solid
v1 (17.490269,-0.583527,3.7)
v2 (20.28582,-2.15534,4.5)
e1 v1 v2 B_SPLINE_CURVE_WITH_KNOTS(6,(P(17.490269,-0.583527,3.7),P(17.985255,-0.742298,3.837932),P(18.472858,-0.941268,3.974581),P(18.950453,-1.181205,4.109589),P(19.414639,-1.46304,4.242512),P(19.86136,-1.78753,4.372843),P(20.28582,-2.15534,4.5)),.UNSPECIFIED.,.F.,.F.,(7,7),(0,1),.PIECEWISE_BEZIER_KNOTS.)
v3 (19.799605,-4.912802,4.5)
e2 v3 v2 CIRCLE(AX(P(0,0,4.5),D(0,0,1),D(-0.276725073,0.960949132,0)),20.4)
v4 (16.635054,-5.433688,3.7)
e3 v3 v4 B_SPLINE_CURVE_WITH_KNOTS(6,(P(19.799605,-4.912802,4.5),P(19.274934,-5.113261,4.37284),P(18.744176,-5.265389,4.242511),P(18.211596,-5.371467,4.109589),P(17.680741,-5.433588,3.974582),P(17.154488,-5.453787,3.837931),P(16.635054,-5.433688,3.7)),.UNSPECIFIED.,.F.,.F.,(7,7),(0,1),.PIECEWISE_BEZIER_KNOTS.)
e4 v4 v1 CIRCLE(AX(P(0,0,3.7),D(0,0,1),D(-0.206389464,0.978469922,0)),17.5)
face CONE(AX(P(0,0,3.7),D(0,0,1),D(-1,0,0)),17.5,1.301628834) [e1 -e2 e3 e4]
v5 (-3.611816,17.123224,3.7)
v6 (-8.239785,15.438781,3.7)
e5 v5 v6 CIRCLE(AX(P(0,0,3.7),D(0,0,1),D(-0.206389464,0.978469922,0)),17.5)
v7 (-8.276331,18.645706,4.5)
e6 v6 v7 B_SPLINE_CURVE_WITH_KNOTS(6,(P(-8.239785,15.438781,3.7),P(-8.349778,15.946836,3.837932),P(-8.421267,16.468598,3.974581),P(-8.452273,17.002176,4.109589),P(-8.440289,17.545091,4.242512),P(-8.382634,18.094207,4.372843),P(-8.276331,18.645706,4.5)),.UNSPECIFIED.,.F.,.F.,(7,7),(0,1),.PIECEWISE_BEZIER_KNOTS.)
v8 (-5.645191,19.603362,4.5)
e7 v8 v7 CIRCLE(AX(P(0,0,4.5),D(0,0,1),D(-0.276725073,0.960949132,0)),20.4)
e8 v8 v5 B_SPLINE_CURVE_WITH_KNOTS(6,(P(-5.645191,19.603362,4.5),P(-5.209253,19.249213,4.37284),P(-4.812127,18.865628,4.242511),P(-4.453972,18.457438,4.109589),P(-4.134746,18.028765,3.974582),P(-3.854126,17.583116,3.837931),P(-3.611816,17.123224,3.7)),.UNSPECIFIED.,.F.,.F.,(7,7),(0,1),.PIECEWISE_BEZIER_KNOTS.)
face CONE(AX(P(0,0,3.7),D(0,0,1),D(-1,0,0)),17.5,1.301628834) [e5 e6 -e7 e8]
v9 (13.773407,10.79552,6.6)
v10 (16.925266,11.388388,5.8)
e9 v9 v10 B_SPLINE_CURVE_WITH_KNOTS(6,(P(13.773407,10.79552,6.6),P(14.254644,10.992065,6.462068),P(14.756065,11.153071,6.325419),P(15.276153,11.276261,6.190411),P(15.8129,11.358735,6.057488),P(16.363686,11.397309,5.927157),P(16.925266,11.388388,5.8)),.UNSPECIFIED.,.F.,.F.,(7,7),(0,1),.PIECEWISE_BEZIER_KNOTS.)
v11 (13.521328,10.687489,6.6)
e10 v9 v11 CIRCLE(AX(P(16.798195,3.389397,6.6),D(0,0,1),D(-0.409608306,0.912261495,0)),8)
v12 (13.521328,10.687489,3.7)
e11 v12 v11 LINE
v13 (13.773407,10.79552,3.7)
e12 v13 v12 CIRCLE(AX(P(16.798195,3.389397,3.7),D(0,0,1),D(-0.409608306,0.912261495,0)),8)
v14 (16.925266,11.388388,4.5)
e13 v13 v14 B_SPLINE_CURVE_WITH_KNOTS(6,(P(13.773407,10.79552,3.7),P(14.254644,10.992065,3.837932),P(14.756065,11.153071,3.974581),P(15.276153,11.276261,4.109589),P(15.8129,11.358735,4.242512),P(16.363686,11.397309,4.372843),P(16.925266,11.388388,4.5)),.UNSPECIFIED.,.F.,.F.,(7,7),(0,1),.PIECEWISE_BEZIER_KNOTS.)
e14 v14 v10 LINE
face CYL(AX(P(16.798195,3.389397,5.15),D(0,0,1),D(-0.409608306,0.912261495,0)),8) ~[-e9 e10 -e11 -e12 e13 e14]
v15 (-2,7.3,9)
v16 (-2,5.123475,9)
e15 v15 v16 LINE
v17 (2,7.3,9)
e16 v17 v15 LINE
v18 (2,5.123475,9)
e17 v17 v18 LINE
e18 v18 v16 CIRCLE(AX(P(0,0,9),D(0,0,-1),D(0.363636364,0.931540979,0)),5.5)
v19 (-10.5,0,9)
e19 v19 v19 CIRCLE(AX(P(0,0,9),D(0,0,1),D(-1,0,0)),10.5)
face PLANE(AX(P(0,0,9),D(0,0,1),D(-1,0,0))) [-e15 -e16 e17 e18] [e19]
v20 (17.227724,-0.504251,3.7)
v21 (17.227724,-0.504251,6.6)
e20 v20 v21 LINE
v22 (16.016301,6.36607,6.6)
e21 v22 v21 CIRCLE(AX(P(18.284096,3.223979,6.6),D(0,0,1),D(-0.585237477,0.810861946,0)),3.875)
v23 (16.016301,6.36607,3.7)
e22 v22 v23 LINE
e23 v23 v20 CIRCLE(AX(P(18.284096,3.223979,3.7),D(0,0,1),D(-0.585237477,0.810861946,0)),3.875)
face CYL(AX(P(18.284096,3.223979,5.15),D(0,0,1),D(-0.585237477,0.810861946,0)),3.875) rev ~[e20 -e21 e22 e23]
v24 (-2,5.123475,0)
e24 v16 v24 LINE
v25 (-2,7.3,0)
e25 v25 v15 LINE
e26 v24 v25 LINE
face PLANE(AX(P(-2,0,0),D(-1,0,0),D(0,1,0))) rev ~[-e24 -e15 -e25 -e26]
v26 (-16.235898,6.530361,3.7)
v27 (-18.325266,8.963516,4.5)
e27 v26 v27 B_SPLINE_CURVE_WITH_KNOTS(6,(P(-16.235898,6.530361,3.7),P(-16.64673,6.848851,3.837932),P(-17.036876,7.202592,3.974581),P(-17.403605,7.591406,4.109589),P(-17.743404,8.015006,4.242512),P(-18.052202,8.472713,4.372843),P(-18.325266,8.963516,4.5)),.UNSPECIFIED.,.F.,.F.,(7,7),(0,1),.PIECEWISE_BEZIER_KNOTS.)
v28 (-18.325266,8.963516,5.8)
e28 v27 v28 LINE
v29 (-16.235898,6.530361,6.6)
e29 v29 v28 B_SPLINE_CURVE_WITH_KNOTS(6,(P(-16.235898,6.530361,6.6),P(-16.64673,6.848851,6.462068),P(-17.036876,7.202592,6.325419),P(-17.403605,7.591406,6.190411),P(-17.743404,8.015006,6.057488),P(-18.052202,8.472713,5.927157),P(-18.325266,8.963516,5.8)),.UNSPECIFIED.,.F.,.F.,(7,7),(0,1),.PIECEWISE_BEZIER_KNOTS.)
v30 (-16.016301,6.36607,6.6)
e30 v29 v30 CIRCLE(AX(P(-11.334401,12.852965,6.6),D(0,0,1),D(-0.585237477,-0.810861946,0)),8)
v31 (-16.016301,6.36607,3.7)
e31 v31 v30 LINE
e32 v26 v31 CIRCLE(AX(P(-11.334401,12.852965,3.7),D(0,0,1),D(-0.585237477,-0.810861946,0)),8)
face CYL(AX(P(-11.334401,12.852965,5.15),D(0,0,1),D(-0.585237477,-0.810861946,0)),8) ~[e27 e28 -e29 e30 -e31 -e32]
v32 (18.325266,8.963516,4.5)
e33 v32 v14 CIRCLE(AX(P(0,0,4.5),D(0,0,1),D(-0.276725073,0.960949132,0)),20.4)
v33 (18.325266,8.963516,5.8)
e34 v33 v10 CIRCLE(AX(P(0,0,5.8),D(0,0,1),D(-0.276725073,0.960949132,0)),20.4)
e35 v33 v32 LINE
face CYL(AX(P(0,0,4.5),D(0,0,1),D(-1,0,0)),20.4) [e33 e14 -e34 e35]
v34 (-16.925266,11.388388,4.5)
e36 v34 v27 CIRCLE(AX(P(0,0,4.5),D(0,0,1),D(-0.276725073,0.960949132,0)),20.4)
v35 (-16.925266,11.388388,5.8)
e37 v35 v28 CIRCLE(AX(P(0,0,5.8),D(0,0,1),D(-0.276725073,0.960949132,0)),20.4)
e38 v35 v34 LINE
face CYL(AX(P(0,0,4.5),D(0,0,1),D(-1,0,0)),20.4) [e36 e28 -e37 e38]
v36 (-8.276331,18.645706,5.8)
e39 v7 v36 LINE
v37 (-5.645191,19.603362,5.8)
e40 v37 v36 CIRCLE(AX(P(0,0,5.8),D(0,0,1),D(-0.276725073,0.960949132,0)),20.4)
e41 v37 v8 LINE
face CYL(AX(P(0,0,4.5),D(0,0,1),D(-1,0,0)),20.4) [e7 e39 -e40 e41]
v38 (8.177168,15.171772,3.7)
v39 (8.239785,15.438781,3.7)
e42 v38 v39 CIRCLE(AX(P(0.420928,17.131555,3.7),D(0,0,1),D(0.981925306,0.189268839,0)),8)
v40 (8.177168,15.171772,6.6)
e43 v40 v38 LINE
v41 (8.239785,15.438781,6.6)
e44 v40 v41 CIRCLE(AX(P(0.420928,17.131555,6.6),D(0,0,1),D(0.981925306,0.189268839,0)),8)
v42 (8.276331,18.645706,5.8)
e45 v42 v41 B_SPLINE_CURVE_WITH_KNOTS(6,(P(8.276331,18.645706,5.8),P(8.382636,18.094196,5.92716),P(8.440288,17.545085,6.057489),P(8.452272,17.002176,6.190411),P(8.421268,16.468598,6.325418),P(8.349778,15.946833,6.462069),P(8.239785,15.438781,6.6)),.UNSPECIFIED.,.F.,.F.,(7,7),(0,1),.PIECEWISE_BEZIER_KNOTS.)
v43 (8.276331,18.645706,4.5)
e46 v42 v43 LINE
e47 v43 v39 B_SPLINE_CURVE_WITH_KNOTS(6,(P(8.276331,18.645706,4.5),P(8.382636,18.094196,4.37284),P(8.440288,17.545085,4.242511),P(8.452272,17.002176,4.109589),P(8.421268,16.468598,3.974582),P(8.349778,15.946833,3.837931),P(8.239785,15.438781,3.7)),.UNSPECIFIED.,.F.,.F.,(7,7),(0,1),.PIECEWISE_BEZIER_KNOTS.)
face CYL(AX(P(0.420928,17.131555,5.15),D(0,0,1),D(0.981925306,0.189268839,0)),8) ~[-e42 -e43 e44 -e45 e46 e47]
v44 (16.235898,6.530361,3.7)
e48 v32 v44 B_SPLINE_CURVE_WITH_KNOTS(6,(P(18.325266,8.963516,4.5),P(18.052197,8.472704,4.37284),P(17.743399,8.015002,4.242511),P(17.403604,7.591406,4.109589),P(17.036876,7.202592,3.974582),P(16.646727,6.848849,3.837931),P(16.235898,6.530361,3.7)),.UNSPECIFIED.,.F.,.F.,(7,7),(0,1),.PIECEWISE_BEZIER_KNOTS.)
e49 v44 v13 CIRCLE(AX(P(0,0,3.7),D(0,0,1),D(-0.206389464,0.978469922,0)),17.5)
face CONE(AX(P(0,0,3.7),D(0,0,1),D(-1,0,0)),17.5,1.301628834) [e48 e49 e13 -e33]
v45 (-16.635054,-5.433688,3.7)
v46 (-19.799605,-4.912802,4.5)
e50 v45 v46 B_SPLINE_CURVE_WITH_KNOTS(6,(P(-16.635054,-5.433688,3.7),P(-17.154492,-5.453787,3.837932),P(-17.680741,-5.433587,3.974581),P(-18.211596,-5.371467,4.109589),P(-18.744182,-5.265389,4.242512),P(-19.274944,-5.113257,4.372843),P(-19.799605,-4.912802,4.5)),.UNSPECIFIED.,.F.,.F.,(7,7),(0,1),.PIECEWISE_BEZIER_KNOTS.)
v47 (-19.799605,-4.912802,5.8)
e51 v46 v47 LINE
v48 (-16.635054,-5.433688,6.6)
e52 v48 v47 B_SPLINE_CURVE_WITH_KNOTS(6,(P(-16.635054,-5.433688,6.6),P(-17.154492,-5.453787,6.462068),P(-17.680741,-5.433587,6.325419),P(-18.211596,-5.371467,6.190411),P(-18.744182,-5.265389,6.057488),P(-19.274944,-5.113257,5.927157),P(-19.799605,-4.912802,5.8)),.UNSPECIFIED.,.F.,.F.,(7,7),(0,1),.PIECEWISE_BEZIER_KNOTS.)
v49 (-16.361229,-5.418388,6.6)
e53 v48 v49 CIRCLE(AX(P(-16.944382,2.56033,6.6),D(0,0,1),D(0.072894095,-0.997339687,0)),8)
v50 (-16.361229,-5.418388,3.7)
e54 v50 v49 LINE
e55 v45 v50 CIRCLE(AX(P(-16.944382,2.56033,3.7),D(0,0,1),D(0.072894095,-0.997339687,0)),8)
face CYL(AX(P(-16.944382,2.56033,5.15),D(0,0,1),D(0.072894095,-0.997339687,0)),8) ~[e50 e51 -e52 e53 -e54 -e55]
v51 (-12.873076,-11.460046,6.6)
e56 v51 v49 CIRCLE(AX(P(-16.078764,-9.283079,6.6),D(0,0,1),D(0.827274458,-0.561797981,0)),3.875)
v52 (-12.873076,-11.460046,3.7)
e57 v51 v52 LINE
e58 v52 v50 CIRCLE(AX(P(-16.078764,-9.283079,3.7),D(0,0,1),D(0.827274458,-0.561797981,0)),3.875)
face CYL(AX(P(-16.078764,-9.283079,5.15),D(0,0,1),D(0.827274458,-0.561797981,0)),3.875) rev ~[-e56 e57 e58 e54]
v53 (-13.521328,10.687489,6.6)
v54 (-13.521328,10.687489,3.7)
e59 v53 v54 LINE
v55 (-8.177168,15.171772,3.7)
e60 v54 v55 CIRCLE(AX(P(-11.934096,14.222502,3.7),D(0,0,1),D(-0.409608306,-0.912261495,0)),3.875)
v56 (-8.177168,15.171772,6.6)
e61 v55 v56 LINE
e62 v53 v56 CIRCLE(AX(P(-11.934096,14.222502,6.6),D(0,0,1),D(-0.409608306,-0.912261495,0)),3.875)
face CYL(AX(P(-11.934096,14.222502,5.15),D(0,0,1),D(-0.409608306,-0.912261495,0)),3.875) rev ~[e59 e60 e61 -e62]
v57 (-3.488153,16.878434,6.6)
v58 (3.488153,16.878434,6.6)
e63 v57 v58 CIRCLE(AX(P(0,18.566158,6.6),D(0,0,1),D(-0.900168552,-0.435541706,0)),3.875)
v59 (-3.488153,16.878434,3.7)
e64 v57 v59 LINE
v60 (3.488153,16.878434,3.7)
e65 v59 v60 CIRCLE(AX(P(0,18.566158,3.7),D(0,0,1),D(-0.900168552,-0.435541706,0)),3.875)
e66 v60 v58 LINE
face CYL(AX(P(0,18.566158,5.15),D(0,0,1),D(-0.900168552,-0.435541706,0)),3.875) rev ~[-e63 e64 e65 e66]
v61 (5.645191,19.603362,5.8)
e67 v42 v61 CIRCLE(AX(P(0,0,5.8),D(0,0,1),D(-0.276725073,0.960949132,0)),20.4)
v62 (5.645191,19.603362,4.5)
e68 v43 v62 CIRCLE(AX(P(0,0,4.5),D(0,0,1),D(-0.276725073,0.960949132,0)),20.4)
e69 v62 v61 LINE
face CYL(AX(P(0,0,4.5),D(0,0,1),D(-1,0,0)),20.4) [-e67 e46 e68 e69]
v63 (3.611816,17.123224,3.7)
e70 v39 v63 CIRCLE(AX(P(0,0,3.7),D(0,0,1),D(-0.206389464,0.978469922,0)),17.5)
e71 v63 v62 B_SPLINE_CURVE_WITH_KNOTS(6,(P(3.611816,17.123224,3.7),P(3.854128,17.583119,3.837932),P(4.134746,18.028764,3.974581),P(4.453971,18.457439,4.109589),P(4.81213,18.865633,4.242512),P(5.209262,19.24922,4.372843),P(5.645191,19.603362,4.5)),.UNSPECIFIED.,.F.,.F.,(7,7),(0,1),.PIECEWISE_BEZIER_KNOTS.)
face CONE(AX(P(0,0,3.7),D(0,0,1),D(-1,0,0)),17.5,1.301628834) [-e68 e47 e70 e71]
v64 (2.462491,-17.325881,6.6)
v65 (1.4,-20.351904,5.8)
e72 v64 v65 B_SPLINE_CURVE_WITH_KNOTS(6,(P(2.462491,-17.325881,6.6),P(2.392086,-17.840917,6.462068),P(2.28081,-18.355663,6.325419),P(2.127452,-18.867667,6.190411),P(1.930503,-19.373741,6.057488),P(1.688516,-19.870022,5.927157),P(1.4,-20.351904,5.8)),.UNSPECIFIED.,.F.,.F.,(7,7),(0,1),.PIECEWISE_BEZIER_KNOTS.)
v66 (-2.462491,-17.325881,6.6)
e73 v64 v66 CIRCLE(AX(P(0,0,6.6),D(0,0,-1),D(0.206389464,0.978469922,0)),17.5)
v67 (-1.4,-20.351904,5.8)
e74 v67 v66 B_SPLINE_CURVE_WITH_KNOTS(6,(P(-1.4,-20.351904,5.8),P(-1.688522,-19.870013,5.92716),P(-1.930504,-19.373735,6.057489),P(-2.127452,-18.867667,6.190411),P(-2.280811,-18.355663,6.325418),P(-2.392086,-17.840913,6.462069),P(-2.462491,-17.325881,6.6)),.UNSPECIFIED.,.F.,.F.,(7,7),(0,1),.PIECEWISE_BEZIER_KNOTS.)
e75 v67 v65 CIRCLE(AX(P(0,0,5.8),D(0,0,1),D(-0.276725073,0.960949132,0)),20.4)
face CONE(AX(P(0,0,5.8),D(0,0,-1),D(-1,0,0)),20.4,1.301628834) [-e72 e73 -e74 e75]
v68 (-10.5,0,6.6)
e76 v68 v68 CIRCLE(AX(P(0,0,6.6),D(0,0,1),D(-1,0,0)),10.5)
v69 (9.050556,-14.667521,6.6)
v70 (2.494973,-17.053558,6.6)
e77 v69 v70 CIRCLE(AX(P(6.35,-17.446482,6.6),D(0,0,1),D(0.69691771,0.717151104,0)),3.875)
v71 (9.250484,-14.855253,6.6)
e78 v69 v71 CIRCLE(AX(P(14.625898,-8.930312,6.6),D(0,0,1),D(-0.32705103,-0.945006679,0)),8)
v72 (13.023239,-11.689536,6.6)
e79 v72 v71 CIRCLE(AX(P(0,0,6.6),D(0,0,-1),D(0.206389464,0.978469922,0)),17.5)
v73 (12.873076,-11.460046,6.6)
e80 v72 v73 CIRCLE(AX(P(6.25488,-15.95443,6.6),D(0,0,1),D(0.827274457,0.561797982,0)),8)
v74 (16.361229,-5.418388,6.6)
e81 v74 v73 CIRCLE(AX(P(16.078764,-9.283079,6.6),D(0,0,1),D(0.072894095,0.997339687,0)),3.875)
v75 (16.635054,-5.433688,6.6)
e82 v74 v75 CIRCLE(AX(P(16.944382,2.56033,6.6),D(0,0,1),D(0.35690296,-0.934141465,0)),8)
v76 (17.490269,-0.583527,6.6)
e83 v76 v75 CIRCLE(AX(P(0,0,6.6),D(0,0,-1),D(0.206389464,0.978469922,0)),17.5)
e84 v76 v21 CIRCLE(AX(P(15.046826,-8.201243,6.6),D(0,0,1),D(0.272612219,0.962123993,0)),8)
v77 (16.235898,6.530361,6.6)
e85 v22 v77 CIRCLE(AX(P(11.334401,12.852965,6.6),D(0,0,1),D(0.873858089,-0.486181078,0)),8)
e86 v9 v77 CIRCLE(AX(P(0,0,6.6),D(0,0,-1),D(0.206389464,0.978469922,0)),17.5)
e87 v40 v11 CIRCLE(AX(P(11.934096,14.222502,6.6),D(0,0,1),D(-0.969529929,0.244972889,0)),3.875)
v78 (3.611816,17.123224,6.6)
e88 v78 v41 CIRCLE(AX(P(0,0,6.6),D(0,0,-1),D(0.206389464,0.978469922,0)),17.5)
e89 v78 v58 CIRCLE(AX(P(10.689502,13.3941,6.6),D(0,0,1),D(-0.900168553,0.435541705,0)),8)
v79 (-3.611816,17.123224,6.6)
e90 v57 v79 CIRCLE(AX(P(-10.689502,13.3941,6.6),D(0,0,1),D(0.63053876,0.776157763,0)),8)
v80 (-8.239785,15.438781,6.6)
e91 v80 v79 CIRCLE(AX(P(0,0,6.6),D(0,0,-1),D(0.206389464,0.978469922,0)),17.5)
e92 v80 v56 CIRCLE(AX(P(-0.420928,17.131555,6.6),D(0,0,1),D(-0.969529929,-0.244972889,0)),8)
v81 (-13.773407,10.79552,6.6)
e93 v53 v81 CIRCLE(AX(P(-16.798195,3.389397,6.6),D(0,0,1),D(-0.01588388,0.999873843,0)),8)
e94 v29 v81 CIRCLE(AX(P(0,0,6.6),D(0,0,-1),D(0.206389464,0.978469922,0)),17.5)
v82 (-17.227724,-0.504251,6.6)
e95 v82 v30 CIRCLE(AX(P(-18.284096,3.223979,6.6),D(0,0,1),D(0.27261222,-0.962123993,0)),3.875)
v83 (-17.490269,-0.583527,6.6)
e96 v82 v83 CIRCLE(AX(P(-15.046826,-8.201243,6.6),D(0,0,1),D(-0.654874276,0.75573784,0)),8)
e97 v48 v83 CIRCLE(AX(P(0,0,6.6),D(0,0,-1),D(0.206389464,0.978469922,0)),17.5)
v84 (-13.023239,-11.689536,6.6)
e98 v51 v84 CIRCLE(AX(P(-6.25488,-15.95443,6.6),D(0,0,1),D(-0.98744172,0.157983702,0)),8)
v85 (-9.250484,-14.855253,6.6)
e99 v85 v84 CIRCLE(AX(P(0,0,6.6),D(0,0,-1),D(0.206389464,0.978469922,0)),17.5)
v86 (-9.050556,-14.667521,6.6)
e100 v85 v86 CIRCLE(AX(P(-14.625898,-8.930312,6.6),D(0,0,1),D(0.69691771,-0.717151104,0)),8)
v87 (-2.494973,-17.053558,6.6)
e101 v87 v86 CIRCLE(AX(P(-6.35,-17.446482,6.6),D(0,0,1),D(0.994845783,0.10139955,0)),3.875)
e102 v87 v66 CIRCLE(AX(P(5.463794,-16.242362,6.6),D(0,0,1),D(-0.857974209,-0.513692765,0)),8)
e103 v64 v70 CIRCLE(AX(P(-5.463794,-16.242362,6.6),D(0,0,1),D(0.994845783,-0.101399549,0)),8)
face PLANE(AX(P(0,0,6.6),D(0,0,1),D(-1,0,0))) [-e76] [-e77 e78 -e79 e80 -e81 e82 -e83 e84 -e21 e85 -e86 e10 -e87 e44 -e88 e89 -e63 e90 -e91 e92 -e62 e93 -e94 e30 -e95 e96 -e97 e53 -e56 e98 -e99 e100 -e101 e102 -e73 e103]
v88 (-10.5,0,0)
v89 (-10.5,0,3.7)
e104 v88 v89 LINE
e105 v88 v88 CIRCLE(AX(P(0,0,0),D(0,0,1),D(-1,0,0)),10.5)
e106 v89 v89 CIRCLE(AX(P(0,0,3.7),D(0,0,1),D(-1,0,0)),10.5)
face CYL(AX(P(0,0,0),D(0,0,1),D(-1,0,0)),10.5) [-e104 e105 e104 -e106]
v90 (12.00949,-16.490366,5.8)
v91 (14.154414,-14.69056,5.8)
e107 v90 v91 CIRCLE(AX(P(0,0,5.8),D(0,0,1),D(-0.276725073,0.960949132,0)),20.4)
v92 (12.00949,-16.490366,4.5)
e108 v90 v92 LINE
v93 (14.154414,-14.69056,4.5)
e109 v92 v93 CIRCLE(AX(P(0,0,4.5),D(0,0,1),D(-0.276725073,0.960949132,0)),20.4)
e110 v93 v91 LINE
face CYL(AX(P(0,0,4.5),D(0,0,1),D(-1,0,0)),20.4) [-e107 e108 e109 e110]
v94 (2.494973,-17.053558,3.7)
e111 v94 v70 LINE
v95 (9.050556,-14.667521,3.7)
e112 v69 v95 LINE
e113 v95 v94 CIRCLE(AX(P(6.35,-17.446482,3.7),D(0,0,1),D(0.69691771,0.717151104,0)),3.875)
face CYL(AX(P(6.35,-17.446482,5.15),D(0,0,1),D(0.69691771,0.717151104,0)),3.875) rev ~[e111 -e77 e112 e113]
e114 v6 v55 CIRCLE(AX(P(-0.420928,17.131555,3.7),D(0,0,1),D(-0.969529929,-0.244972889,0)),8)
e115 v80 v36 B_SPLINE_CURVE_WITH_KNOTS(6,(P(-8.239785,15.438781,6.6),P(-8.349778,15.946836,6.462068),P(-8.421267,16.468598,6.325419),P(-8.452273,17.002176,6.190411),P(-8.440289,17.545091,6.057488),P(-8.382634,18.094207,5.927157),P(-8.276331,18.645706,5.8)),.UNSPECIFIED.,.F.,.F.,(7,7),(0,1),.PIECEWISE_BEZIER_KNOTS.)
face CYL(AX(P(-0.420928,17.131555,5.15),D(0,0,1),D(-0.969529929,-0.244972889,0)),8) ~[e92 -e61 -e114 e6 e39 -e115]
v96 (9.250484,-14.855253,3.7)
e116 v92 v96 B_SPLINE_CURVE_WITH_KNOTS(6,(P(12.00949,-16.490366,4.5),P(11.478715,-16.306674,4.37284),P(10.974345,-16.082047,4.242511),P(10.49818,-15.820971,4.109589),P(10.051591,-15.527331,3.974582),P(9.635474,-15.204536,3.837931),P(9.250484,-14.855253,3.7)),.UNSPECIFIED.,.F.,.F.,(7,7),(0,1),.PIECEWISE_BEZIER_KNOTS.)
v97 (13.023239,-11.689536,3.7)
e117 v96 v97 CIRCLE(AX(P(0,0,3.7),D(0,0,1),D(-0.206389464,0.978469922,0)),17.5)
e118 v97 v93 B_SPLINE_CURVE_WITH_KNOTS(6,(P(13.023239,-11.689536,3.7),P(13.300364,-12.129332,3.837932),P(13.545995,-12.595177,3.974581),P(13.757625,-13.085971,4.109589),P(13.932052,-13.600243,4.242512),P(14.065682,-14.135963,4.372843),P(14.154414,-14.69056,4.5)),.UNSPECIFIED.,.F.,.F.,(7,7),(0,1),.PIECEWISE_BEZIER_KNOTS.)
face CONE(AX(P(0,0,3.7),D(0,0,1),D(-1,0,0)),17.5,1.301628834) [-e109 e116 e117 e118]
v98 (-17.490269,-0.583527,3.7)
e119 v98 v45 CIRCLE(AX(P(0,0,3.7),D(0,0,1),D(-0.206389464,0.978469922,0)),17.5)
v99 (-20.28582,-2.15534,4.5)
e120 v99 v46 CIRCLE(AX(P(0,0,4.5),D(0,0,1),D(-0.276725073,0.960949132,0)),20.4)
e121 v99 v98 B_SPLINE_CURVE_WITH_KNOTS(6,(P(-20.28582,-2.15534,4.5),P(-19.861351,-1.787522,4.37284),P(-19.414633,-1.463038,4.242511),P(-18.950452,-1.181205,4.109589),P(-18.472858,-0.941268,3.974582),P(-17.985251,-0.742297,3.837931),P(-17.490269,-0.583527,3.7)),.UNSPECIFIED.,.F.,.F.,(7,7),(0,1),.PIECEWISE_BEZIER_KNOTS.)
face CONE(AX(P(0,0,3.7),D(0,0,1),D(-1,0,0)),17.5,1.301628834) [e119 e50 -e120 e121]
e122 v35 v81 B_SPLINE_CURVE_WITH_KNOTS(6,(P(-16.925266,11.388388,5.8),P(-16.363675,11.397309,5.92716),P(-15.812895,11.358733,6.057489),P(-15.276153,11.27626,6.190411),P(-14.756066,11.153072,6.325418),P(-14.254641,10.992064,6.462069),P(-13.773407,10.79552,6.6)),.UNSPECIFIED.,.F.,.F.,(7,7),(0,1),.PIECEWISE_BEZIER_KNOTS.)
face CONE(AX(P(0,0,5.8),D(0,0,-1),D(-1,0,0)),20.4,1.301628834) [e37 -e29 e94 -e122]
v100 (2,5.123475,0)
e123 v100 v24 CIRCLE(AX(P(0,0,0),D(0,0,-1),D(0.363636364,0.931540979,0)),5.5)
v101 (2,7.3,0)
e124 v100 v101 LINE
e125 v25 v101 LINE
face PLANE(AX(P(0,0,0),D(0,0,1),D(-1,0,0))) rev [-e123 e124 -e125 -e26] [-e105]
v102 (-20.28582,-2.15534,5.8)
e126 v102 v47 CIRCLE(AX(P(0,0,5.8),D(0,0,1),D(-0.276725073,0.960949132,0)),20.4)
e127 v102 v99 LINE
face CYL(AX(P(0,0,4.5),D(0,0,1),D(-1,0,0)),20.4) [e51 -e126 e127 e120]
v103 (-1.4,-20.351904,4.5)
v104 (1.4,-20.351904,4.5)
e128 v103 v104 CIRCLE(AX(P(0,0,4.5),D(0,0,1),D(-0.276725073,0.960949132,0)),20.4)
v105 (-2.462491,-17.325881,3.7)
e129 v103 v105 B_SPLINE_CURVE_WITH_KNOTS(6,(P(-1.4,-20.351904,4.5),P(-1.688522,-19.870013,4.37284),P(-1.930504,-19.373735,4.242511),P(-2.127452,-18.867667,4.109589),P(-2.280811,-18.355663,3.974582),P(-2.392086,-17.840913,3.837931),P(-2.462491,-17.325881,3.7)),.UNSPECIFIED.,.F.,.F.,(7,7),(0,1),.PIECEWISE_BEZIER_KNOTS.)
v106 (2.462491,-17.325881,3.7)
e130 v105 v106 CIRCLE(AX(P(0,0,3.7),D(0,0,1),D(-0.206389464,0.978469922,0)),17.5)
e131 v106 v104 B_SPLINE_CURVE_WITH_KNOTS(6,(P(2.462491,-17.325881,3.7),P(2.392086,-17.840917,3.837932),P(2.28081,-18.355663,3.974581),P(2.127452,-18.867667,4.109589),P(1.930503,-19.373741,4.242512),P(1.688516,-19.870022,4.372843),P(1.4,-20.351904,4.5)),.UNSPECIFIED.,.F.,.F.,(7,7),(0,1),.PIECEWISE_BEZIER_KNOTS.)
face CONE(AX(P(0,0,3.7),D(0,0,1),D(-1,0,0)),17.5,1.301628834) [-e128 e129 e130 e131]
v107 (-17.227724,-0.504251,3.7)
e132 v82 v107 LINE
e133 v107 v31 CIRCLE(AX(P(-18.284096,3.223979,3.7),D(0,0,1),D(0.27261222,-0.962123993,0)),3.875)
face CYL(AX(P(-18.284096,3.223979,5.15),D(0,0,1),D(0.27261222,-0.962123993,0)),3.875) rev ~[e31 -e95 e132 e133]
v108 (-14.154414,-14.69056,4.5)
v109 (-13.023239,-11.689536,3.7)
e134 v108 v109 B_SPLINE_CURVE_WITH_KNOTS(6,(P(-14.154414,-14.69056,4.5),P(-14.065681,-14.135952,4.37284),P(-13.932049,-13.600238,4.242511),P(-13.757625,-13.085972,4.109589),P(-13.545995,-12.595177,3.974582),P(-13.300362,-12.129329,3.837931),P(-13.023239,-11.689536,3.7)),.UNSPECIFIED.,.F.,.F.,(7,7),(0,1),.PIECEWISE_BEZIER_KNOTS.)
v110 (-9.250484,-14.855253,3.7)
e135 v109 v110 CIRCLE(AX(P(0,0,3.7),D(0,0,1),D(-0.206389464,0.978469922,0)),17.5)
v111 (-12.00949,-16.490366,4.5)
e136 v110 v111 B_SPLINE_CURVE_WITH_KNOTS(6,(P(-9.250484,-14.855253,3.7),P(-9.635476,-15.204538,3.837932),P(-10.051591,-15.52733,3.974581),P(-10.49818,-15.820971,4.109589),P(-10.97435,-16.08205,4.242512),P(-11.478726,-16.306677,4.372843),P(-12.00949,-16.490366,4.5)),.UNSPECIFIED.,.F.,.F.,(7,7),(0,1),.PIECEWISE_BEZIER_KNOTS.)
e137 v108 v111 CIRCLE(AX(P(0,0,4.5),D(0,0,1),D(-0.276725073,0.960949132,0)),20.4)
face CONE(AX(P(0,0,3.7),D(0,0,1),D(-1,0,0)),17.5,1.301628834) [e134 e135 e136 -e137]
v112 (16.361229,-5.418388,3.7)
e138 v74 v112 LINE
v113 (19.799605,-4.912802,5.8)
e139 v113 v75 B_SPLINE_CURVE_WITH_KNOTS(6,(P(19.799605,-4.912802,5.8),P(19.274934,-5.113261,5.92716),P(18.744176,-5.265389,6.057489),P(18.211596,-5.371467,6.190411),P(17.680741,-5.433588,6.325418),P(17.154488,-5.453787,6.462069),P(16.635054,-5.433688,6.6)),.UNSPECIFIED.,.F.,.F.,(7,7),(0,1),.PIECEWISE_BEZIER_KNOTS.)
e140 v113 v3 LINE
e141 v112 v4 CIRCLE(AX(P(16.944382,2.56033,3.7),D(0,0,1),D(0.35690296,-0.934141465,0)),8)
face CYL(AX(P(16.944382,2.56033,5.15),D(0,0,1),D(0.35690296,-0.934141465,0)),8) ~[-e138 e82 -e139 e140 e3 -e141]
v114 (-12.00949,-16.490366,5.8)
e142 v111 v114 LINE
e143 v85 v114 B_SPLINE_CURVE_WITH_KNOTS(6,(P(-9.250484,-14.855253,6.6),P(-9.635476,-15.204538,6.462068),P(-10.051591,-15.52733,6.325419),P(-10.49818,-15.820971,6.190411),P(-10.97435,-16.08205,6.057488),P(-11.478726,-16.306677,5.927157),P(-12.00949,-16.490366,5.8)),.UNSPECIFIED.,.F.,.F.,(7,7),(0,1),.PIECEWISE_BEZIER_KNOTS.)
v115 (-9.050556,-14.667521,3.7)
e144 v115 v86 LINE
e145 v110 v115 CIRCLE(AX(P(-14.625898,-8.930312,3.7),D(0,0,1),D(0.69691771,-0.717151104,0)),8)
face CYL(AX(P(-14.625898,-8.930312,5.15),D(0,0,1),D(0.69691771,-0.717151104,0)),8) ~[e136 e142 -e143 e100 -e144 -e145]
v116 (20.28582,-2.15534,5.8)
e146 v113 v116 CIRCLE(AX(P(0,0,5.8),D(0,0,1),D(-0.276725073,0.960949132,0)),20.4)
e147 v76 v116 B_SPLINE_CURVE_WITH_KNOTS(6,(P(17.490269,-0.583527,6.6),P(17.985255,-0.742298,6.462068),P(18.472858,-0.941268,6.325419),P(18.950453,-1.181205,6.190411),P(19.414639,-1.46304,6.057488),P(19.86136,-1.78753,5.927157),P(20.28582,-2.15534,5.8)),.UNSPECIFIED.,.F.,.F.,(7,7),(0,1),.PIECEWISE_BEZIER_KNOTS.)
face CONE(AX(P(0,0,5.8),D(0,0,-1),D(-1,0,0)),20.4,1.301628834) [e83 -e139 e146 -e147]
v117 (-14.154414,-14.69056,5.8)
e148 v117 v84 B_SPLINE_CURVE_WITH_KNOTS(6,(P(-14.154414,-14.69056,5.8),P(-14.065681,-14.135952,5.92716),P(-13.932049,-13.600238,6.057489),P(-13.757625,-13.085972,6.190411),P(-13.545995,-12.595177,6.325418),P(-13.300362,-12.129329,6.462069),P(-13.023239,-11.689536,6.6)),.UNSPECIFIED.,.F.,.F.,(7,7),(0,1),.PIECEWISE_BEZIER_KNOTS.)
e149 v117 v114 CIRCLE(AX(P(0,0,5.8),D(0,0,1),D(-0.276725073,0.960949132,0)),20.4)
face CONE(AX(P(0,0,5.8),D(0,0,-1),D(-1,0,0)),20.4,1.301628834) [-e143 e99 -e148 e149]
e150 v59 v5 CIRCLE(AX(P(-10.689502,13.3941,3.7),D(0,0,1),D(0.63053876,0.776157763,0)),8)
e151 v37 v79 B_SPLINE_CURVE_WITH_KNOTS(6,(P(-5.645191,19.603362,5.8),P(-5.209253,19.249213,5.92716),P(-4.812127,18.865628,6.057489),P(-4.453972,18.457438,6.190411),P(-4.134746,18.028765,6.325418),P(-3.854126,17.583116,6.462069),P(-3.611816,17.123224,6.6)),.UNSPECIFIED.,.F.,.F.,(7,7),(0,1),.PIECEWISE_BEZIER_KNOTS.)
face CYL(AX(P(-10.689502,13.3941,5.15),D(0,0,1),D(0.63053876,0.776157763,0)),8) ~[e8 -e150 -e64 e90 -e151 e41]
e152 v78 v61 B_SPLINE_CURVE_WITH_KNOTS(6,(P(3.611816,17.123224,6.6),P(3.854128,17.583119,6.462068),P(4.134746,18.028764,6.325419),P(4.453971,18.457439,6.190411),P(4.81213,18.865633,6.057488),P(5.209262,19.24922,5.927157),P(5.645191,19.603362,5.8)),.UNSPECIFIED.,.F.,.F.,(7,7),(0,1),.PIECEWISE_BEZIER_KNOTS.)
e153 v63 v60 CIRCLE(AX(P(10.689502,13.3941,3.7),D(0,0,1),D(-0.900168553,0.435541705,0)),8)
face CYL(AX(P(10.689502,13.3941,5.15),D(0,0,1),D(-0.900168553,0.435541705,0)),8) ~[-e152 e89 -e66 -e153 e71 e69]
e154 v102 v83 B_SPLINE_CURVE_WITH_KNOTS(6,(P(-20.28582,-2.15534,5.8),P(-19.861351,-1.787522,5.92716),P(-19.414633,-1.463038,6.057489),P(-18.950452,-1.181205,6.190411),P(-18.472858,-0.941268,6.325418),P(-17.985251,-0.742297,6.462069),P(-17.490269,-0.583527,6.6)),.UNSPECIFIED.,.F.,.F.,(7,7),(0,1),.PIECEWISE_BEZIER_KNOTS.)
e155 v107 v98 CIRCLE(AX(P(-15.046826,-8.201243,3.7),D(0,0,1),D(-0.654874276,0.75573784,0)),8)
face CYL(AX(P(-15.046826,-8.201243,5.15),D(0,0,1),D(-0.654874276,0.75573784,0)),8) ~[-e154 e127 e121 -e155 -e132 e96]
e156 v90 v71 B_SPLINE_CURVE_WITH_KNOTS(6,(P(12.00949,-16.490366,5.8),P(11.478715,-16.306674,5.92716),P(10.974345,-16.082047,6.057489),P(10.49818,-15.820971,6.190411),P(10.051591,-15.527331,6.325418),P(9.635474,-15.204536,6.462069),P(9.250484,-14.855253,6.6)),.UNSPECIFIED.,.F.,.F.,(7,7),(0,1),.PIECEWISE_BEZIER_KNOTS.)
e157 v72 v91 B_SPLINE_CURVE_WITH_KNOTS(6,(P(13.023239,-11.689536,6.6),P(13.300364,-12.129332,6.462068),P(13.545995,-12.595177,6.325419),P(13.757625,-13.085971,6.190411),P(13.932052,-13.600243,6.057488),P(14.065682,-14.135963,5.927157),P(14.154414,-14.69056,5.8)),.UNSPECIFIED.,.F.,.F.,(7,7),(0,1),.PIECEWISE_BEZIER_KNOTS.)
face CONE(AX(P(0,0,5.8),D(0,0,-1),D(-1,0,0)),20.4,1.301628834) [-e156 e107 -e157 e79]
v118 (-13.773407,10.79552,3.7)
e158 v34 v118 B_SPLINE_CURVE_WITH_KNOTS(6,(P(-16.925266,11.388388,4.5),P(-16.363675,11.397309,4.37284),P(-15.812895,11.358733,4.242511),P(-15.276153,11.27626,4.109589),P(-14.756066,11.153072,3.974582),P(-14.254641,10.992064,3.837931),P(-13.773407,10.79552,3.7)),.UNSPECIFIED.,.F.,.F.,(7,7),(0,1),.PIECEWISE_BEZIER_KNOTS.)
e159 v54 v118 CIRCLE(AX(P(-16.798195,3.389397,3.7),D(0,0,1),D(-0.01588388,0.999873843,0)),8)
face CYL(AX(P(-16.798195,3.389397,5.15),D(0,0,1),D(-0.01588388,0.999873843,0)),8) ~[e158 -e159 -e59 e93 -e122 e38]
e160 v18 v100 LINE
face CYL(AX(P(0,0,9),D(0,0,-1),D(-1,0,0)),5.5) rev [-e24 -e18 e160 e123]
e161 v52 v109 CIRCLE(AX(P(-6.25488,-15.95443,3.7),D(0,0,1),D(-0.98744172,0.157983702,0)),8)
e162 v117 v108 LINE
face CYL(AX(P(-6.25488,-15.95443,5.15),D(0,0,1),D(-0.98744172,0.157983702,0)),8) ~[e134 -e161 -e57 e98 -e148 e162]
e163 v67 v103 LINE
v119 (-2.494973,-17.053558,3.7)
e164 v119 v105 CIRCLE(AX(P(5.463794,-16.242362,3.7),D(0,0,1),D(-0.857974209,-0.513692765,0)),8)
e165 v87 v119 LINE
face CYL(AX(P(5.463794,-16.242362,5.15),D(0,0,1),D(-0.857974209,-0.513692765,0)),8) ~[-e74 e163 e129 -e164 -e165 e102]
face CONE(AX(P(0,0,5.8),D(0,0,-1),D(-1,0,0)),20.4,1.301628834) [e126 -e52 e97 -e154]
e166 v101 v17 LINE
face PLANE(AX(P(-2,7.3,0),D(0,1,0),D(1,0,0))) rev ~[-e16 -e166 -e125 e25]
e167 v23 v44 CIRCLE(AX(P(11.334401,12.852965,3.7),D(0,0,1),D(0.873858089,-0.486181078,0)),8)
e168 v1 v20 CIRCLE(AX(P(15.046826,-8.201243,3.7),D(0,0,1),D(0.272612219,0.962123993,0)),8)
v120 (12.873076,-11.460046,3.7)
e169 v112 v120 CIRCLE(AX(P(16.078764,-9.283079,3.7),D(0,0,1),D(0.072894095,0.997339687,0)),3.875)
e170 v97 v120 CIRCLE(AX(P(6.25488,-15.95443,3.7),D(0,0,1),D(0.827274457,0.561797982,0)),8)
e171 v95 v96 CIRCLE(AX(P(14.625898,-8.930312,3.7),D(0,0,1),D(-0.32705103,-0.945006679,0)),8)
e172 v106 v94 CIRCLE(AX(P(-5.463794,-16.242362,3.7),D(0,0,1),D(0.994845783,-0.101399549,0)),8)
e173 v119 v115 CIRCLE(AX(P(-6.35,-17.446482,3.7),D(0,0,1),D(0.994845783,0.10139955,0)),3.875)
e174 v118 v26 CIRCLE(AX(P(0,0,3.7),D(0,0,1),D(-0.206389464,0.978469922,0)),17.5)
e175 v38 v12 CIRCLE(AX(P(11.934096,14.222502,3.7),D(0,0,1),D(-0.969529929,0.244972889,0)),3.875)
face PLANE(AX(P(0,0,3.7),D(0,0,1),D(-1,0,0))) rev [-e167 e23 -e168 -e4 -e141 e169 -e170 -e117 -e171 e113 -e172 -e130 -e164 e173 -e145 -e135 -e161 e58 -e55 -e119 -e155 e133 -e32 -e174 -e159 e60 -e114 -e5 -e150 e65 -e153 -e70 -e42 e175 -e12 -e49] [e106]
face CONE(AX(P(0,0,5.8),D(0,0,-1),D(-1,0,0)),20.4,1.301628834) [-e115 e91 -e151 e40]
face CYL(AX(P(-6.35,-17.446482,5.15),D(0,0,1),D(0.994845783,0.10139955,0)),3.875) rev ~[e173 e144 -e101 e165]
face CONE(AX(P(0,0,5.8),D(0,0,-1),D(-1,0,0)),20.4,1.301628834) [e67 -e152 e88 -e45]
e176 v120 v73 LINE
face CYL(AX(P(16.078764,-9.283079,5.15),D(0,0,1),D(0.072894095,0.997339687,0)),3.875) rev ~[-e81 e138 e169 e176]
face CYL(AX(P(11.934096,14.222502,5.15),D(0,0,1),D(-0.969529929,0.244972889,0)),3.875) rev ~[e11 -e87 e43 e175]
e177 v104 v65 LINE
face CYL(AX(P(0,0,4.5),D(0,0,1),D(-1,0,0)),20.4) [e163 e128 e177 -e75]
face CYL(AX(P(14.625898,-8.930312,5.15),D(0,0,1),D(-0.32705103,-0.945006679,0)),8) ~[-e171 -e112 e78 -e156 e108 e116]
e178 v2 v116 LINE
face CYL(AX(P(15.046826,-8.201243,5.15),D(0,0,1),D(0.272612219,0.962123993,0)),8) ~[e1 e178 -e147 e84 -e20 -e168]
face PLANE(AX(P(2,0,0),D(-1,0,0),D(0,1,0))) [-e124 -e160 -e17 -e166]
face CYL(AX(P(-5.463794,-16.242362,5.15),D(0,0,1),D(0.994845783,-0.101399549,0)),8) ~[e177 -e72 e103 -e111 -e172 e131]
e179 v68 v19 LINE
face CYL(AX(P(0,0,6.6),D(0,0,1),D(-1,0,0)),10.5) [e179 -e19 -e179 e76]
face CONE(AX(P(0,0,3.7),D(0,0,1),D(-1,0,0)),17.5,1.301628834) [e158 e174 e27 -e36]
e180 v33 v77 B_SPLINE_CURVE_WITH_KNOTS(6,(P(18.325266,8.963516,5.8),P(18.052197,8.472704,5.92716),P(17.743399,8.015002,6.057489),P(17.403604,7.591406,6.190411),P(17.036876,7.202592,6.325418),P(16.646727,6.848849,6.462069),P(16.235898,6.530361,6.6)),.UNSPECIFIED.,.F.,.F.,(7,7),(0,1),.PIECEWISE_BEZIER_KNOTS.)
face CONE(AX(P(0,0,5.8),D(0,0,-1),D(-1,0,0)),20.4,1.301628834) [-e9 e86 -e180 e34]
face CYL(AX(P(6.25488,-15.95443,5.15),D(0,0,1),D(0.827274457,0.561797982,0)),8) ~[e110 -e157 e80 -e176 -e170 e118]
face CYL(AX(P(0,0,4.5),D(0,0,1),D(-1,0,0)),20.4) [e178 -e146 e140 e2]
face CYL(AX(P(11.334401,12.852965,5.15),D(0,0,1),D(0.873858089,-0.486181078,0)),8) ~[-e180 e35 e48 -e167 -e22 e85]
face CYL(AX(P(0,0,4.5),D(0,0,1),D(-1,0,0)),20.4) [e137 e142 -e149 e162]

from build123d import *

# Parameters (mm, degrees)
ESQUISSE2_W                  = 4
ESQUISSE2_H                  = 7.3
ENL_V_MAT_EXTRU_1_DEPTH      = 31.221184623
ENL_V_MAT_EXTRU_2_DEPTH      = 30.306014741
R_P_TITION_CIRCULAIRE1_COUNT = 9


with BuildPart() as part:
    # Esquisse1 → Révolution1 (revolve)
    with BuildSketch(Plane(origin=(0, 0, 0), x_dir=(0, 0, -1), z_dir=(1, 0, 0))):
        Polygon((-5.8, 20.4), (-6.6, 17.5), (-6.6, 10.5), (-9, 10.5), (-9, 5.5), (0, 5.5), (0, 10.5), (-3.7, 10.5), (-3.7, 17.5), (-4.5, 20.4), align=None)
    revolve(axis=Axis((0, 0, 0), (0, 0, 1)))

    # Esquisse2 → Enlèv. mat.-Extru.1 (cut, through all)
    with BuildSketch(Plane.XY):
        with Locations((0, 3.65)):
            Rectangle(ESQUISSE2_W, ESQUISSE2_H)
    extrude(amount=ENL_V_MAT_EXTRU_1_DEPTH, mode=Mode.SUBTRACT)

    # Esquisse4 → Enlèv. mat.-Extru.2 (cut, symmetric)
    with BuildSketch(Plane.XY.offset(5.15)):
        with BuildLine():
            ThreePointArc((-3.488153141, 16.878433832), (0, 14.691157941), (3.488153141, 16.878433832))
            ThreePointArc((3.488153141, 16.878433832), (4.416914632, 18.359445416), (5.645191484, 19.603362291))
            ThreePointArc((5.645191484, 19.603362291), (0, 20.4), (-5.645191484, 19.603362291))
            ThreePointArc((-5.645191484, 19.603362291), (-4.416914632, 18.359445416), (-3.488153141, 16.878433832))
        make_face()
    enl_v_mat_extru_2 = extrude(amount=ENL_V_MAT_EXTRU_2_DEPTH, both=True, mode=Mode.SUBTRACT)

    # Répétition circulaire1: Enlèv. mat.-Extru.2 ×9 about axis
    r_p_tition_circulaire1_axis = Axis((0, 0, 0), (0, 0, 1))
    for i in range(1, R_P_TITION_CIRCULAIRE1_COUNT):
        add(enl_v_mat_extru_2.rotate(r_p_tition_circulaire1_axis, i * 360 / R_P_TITION_CIRCULAIRE1_COUNT), mode=Mode.SUBTRACT)


solid = part.part
